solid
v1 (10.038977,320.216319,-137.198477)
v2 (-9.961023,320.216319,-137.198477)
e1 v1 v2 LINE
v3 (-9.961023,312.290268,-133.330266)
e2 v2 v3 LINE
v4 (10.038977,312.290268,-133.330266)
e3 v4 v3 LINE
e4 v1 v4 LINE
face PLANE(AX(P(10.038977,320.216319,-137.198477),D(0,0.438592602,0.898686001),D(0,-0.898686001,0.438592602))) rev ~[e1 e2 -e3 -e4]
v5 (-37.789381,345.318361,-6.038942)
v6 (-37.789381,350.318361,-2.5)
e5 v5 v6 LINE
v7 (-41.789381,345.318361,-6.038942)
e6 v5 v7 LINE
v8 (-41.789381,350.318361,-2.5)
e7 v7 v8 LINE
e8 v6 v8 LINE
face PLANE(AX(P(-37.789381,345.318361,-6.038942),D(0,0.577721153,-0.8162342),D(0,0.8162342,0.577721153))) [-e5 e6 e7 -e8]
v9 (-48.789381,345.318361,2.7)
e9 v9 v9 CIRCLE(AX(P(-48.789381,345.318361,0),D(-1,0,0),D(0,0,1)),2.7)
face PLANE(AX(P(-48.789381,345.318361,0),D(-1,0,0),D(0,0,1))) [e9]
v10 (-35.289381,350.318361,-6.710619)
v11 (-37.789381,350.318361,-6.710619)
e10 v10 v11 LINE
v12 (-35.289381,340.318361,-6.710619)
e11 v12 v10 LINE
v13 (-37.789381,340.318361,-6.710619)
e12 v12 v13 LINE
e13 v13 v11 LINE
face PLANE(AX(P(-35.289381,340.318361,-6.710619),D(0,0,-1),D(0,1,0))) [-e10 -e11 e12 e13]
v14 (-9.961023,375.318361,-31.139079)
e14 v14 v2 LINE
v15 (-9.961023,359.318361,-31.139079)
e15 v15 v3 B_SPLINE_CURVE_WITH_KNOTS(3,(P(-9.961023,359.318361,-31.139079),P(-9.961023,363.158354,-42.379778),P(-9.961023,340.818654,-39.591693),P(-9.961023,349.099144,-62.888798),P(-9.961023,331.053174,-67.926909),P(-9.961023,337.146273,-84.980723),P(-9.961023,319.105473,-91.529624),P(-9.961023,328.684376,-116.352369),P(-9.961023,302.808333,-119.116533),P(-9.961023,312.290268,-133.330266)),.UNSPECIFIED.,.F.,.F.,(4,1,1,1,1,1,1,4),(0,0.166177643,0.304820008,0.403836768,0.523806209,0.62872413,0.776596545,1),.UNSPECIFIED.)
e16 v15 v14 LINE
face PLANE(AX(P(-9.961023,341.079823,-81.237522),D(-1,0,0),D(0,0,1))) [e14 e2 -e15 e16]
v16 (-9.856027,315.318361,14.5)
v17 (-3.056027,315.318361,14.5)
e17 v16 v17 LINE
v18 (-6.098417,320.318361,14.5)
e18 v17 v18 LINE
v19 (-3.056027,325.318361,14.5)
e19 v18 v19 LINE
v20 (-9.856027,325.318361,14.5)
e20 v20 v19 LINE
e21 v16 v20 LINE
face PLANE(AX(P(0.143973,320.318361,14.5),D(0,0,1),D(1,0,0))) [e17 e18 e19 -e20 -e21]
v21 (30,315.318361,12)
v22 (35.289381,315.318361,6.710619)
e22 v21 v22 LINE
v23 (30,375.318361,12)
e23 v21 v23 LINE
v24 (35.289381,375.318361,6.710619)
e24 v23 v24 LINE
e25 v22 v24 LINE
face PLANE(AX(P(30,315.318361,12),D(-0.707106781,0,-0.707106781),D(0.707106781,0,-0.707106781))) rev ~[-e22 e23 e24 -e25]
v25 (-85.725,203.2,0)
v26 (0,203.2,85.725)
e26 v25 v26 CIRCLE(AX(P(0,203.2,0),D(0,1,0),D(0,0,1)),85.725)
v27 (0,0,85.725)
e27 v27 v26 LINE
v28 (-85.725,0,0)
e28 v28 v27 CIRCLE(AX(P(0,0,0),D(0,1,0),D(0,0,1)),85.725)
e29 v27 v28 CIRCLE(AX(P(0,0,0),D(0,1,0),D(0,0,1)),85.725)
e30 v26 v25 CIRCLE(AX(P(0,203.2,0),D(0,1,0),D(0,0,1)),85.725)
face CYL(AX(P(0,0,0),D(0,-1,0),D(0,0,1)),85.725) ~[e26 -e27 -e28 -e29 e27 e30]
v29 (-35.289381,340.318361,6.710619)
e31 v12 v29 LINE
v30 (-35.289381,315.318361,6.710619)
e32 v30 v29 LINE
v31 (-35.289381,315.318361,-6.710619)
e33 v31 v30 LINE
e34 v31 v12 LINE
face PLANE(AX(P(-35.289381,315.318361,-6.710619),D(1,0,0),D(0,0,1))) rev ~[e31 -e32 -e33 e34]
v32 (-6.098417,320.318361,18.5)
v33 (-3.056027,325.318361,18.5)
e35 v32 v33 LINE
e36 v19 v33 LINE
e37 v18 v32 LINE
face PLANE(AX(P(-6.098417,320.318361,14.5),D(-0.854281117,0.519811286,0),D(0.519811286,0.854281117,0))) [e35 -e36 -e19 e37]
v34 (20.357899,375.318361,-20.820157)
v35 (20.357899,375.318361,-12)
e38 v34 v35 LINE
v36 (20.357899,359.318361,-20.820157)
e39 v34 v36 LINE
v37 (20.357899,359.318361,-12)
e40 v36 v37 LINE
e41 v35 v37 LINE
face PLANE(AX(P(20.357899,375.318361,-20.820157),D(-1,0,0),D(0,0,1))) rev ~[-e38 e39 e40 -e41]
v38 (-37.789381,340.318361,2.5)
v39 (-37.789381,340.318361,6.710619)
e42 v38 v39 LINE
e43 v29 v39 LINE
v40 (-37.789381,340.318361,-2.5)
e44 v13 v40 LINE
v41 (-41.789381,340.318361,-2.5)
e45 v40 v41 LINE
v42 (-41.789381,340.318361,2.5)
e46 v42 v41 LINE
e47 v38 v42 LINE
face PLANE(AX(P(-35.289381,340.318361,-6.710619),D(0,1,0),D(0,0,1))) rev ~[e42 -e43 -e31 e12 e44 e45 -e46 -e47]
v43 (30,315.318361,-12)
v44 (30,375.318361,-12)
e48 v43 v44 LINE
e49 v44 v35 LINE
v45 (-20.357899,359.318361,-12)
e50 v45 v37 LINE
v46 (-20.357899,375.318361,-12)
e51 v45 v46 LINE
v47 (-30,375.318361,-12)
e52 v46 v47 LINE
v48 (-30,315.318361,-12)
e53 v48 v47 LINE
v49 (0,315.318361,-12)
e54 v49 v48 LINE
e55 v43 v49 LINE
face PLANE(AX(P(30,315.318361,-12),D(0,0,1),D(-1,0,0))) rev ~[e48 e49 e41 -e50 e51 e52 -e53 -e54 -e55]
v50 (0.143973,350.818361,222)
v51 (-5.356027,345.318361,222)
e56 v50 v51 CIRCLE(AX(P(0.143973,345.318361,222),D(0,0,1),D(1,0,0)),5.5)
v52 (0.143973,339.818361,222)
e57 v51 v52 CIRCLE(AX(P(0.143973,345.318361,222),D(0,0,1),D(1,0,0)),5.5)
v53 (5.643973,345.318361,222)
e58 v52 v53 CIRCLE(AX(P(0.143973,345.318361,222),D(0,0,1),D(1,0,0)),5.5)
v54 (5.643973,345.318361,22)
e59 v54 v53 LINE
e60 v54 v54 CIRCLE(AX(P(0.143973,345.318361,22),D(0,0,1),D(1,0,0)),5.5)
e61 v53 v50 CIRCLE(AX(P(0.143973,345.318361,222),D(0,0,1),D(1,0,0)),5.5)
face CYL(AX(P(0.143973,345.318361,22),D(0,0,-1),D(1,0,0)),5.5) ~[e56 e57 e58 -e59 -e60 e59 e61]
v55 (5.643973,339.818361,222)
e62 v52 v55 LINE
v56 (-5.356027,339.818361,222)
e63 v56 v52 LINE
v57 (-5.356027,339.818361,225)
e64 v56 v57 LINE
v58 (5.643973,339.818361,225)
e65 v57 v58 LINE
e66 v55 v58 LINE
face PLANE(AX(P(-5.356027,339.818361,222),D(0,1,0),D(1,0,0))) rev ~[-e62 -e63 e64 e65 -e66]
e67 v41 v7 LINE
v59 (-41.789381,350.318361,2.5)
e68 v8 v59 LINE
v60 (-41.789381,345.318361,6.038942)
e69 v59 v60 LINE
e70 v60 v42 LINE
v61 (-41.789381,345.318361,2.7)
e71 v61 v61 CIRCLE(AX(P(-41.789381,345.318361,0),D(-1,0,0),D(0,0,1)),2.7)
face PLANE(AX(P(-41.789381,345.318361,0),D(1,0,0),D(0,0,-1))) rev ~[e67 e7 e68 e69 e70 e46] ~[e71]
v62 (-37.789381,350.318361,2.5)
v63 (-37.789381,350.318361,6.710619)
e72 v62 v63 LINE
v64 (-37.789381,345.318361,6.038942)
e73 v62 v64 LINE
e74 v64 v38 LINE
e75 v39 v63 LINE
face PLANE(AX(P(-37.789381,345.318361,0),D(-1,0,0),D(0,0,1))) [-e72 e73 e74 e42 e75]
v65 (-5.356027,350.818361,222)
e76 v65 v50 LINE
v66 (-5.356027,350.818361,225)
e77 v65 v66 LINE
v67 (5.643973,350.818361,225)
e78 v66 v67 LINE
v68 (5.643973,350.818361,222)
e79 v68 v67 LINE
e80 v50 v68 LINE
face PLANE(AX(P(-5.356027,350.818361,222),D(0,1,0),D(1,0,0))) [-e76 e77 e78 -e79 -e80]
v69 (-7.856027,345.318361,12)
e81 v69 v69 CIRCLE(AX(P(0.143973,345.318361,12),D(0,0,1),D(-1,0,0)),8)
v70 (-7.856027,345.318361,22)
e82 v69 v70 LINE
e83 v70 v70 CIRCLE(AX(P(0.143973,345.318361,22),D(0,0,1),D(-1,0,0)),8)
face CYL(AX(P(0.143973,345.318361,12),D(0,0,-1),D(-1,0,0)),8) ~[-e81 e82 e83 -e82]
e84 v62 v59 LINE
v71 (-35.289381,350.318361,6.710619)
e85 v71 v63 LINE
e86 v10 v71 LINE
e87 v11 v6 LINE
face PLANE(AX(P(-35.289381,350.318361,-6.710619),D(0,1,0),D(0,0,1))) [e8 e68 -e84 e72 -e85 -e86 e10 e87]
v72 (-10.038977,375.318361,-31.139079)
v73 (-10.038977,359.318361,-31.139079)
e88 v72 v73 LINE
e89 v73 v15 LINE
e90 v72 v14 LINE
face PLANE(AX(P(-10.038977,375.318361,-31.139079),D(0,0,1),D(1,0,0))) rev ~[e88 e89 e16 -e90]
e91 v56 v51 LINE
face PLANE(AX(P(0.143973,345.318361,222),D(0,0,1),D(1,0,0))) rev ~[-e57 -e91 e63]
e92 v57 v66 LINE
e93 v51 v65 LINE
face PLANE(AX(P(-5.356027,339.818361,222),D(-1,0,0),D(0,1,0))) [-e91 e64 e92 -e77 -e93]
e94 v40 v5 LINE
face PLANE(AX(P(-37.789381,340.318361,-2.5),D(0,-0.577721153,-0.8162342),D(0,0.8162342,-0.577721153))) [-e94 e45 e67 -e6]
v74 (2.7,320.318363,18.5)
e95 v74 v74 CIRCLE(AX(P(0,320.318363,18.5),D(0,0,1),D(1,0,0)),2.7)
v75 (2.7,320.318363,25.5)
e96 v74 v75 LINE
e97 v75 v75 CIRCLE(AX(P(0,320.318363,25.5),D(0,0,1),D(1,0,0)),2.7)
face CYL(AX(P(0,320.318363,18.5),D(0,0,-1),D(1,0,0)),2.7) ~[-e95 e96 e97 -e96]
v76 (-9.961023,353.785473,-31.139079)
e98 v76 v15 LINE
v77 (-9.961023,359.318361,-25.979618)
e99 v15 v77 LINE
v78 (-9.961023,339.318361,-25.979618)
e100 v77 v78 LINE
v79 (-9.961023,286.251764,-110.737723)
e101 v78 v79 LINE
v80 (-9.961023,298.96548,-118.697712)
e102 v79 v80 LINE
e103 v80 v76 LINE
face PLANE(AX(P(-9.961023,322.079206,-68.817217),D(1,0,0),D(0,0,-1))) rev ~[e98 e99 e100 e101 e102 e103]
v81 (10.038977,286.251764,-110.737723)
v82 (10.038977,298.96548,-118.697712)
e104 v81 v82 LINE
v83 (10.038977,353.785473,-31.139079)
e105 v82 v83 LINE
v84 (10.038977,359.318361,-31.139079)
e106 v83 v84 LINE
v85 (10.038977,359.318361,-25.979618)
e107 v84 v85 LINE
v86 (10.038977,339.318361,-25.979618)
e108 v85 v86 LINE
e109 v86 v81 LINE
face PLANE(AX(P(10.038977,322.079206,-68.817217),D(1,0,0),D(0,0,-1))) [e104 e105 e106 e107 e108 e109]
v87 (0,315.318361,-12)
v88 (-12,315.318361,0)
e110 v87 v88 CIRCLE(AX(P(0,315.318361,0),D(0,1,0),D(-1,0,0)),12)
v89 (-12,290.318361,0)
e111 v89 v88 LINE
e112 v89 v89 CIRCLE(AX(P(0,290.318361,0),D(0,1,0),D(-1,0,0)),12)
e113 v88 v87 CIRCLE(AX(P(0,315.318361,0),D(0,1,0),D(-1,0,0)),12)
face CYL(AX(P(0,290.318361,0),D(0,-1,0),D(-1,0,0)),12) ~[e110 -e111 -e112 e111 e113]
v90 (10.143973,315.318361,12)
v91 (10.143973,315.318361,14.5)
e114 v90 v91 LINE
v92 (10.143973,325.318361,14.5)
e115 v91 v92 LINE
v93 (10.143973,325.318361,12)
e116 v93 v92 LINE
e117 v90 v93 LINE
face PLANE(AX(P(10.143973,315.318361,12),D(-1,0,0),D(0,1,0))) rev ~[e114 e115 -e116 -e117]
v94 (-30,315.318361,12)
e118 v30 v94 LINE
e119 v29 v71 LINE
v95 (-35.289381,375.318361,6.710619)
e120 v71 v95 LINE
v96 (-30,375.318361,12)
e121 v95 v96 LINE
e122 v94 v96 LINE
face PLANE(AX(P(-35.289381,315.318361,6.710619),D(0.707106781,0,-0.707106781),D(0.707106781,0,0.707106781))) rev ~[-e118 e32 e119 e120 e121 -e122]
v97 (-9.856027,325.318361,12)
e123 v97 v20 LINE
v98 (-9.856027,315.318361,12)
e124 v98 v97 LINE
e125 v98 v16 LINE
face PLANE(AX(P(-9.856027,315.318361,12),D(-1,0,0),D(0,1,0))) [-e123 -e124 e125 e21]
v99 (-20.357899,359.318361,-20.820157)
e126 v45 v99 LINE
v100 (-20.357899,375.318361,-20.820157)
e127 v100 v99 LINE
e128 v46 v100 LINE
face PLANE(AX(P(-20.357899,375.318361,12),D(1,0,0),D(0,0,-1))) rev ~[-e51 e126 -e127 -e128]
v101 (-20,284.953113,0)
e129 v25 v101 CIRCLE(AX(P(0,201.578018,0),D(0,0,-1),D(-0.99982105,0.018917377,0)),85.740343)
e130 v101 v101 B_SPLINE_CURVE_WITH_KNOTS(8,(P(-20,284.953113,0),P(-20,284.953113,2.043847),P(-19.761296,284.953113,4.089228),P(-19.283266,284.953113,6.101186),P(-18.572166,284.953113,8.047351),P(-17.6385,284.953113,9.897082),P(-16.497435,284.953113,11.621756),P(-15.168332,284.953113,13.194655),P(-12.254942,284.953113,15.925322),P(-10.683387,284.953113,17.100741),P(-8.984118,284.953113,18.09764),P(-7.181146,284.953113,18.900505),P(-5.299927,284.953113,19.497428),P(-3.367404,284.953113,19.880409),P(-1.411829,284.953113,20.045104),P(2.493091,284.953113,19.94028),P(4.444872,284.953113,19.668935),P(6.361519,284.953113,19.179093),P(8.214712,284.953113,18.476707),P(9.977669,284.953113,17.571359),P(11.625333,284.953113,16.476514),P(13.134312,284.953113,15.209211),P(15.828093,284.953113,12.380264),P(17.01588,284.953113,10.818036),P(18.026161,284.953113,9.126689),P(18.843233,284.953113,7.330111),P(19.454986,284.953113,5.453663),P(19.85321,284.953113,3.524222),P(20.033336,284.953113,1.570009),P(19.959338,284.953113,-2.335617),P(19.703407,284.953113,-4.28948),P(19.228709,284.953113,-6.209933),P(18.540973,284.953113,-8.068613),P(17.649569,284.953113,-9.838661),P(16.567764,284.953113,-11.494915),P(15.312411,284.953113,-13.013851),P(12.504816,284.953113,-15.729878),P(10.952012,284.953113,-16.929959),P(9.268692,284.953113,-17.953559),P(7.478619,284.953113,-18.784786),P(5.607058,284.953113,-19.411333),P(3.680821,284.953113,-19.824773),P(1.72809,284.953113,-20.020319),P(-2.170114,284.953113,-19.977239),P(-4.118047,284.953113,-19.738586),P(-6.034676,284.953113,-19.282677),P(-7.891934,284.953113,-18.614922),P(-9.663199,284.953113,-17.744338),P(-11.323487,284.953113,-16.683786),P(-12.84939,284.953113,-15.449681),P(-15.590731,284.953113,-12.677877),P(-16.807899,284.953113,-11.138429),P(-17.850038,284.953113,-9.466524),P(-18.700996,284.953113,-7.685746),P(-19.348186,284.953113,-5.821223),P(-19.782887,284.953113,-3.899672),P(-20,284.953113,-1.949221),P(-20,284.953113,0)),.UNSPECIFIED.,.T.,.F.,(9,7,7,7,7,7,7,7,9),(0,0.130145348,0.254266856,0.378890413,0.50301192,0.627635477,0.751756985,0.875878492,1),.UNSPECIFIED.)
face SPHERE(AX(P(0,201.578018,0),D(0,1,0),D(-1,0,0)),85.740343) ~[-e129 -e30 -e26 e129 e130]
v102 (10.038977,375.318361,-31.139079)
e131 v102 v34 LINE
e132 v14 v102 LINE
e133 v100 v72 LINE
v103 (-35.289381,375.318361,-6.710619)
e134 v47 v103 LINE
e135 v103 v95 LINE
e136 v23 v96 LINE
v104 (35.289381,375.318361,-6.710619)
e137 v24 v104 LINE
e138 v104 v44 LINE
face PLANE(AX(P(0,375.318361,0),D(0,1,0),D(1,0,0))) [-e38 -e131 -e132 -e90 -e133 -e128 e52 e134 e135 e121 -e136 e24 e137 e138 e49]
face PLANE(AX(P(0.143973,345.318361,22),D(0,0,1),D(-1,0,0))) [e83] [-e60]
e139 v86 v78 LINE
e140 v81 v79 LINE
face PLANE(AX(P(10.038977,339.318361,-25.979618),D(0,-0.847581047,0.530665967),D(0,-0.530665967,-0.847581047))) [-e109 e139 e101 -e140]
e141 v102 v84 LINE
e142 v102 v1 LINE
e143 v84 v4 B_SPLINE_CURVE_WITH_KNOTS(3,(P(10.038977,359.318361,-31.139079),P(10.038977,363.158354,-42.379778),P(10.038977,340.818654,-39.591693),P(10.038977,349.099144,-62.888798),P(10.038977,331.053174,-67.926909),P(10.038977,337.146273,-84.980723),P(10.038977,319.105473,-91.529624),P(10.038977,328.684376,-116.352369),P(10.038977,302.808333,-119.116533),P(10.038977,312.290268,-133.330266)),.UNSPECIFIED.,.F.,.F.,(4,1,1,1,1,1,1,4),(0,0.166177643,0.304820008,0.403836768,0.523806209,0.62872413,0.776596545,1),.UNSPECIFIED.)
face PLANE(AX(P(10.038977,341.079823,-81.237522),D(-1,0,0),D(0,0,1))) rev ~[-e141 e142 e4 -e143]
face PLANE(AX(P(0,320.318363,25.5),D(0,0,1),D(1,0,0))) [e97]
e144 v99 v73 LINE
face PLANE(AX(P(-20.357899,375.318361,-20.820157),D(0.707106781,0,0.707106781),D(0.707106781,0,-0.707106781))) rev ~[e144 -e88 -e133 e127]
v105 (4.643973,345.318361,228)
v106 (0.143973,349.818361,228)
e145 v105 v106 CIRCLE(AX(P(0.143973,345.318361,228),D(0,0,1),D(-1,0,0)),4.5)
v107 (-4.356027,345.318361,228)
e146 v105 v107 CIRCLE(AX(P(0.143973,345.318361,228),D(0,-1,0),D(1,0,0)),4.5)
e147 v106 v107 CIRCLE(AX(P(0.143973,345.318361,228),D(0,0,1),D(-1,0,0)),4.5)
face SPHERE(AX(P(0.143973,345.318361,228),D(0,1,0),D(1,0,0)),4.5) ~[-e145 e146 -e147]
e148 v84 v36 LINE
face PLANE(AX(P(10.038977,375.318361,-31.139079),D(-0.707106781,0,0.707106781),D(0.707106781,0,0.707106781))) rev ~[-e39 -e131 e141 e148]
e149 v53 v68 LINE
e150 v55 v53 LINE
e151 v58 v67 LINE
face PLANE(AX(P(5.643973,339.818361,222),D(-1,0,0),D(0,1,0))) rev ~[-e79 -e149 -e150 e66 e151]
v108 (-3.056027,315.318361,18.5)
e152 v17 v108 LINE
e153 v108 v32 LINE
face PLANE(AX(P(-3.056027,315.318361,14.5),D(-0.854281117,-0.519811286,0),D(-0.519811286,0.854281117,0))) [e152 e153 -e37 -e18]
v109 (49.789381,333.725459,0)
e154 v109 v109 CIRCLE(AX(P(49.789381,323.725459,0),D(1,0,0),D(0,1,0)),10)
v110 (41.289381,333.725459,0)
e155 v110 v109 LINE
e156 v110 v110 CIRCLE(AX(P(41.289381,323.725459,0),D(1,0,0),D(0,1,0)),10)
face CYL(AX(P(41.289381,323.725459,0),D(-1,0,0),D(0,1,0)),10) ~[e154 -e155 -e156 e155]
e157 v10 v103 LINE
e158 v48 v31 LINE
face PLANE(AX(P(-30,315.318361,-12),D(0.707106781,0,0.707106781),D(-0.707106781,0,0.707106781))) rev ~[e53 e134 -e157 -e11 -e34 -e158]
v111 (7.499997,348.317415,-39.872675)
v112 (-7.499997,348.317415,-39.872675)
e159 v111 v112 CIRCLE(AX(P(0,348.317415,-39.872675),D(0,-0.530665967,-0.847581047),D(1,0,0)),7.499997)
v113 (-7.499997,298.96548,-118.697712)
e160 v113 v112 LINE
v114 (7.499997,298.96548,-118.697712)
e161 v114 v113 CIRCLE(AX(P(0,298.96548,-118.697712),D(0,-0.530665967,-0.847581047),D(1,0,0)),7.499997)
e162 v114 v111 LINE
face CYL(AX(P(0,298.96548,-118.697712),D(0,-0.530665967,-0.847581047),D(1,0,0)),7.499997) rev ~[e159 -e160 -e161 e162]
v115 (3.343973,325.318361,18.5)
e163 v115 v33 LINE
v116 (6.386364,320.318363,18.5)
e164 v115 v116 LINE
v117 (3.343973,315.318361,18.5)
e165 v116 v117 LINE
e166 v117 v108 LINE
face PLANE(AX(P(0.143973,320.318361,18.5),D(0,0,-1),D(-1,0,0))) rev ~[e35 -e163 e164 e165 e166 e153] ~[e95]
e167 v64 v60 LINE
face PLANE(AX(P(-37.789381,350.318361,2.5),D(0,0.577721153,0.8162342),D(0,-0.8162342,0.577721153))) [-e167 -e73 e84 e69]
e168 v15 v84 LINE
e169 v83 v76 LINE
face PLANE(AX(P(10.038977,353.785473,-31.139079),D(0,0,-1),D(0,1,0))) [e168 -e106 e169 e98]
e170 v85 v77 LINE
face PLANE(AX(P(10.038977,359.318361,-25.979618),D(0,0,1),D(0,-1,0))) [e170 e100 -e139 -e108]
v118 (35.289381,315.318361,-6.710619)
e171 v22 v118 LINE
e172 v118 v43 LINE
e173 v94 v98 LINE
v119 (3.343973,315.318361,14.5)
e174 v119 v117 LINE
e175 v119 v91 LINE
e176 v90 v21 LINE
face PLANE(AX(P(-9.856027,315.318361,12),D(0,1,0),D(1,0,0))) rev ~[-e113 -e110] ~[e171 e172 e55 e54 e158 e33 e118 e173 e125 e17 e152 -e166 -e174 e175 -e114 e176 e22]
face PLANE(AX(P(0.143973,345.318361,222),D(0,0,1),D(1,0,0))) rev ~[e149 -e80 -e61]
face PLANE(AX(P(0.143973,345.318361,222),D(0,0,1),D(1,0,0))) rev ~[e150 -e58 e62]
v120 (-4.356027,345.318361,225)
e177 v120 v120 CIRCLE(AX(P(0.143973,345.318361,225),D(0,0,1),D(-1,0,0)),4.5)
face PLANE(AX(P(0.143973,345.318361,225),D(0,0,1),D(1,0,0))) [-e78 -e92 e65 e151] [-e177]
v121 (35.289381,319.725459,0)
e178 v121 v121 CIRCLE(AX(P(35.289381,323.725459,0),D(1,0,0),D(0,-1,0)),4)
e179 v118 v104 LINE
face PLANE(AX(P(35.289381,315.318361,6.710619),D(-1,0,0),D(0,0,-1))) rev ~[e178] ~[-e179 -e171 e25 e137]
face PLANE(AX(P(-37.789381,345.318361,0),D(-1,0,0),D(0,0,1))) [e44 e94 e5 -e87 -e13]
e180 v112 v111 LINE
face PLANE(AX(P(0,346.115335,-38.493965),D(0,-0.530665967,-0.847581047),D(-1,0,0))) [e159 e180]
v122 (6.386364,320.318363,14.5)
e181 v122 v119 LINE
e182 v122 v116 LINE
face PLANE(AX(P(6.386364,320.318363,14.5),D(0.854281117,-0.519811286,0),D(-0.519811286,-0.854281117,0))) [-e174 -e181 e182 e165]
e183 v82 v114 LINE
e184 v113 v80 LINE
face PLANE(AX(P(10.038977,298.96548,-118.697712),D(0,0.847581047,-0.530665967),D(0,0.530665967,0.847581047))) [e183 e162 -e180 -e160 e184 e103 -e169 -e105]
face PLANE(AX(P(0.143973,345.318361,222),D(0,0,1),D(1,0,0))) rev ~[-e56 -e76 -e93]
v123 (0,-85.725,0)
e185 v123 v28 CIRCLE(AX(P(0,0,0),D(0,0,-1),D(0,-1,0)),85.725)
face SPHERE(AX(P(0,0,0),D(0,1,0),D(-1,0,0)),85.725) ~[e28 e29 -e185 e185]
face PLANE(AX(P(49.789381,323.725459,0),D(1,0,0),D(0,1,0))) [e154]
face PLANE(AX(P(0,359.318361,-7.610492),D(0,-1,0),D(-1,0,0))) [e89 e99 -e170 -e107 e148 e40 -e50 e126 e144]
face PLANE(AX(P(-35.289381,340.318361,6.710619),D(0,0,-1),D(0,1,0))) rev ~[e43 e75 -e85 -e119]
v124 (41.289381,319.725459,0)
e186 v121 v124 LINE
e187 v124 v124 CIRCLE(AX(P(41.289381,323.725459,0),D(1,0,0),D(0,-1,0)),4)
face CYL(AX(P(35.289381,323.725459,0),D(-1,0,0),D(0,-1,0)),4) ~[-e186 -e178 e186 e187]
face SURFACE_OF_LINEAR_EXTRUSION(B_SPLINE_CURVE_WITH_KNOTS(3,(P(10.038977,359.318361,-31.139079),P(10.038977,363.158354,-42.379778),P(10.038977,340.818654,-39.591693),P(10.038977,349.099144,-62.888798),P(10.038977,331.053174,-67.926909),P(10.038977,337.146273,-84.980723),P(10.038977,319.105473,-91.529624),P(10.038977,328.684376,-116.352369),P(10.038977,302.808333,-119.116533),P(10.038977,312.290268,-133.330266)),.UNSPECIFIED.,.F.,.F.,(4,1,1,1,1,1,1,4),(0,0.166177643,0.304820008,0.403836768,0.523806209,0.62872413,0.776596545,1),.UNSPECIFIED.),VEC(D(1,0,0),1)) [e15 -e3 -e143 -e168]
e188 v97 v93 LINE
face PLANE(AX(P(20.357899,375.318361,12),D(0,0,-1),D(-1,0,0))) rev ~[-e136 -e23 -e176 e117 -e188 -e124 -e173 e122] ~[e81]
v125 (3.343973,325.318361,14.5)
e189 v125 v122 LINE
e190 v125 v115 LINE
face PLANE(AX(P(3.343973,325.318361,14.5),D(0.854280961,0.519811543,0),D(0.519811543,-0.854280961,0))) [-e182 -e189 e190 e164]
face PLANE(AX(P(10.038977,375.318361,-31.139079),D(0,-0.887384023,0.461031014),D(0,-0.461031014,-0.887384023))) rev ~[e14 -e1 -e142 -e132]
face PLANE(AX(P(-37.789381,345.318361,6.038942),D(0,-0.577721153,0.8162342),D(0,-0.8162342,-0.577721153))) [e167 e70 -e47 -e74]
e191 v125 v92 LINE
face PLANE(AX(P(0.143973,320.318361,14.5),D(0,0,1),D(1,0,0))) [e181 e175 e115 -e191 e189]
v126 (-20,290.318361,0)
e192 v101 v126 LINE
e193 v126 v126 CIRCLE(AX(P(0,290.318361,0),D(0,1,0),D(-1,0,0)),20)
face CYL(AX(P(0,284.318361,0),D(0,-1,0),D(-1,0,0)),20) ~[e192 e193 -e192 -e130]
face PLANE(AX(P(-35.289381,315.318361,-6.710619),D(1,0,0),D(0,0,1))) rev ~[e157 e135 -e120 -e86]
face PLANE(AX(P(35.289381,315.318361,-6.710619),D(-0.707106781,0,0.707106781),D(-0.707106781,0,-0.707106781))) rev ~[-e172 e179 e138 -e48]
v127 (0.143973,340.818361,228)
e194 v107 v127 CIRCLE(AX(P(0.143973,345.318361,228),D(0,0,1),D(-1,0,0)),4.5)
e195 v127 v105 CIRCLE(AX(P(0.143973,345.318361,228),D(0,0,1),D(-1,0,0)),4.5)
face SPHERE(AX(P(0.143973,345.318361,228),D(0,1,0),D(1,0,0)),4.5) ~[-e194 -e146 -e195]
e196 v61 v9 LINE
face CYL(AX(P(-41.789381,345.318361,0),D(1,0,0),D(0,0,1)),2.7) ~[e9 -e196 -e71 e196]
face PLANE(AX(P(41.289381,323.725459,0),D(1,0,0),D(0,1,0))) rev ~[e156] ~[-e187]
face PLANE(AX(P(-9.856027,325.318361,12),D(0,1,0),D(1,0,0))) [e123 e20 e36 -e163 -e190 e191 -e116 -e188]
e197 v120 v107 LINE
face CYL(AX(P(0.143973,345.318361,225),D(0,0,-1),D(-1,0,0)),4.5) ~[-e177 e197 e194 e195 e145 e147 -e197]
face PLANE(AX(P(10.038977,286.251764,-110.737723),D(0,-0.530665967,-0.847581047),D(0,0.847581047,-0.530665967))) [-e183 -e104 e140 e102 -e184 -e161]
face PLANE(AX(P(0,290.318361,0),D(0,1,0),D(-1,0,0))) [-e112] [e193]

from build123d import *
from build123d.topology import SkipClean

# Parameters (mm, degrees)
SKETCH1_R                = 85.725
BOSS_EXTRUDE1_DEPTH      = 203.2
BOSS_EXTRUDE2_DEPTH      = 3
BOSS_EXTRUDE2_DEPTH_BACK = 3
SKETCH31_R               = 20
SKETCH32_R               = 12
BOSS_EXTRUDE3_DEPTH      = 25
BOSS_EXTRUDE6_DEPTH      = 60
SKETCH34_R               = 4
BOSS_EXTRUDE7_DEPTH      = 6
SKETCH35_R               = 10
BOSS_EXTRUDE8_DEPTH      = 8.5
SKETCH36_W               = 20
SKETCH36_H               = 10
BOSS_EXTRUDE9_DEPTH      = 2.5
BOSS_EXTRUDE10_DEPTH     = 4
SKETCH38_R               = 2.7
BOSS_EXTRUDE11_DEPTH     = 7
SKETCH39_W               = 13.421237438
SKETCH39_H               = 10
BOSS_EXTRUDE12_DEPTH     = 2.5
BOSS_EXTRUDE13_DEPTH     = 4
SKETCH41_R               = 2.7
BOSS_EXTRUDE14_DEPTH     = 7
SKETCH42_R               = 8
BOSS_EXTRUDE15_DEPTH     = 10
SKETCH43_R               = 5.5
BOSS_EXTRUDE16_DEPTH     = 200
SKETCH44_W               = 11
SKETCH44_H               = 11
BOSS_EXTRUDE17_DEPTH     = 3
SKETCH45_R               = 4.5
BOSS_EXTRUDE18_DEPTH     = 3
REVOLVE3_ANGLE           = 180
BOSS_EXTRUDE19_DEPTH     = 16
BOSS_EXTRUDE20_DEPTH     = 20
BOSS_EXTRUDE21_DEPTH     = 20
CUT_EXTRUDE2_DEPTH       = 93


with BuildPart() as part:
    # Sketch1 → Boss-Extrude1 (new body)
    with BuildSketch(Plane(origin=(0, 0, 0), x_dir=(1, 0, 0), z_dir=(0, 1, 0))):
        with Locations(Location((0, 0, 0), (0, 0, 270))):
            Circle(SKETCH1_R)
    extrude(amount=BOSS_EXTRUDE1_DEPTH)

    # Sketch28 → Revolve1 (revolve)
    with BuildSketch(Plane.XY):
        with BuildLine():
            Line((0, 287.318360821), (0, 201.578017622))
            Line((0, 201.578017622), (-85.725, 203.2))
            ThreePointArc((-85.725, 203.2), (-60.051382691, 262.776366365), (0, 287.318360821))
        make_face()
    revolve(axis=Axis((0, 313.857447871, 0), (0, -1, 0)))

    # Sketch29 → Revolve2 (revolve)
    with BuildSketch(Plane.XY, mode=Mode.PRIVATE) as revolve2_sk:
        with BuildLine():
            Line((0, 0), (0, -85.725))
            ThreePointArc((0, -85.725), (60.616728817, -60.616728817), (85.725, 0))
            Line((85.725, 0), (0, 0))
        make_face()
    revolve(revolve2_sk.sketch.rotate(Axis((0, 313.857447871, 0), (0, -1, 0)), 180), axis=Axis((0, 313.857447871, 0), (0, -1, 0)))

    # Sketch31 → Boss-Extrude2 (add, two sides: drawn at the far end of the back side and taken through both)
    with BuildSketch(Plane(origin=(0, 287.318360821, 0), x_dir=(1, 0, 0), z_dir=(0, 1, 0)).offset(-BOSS_EXTRUDE2_DEPTH_BACK)):
        with Locations(Location((0, 0, 0), (0, 0, 180))):
            Circle(SKETCH31_R)
    extrude(amount=BOSS_EXTRUDE2_DEPTH + BOSS_EXTRUDE2_DEPTH_BACK)

    # Sketch32 → Boss-Extrude3 (add)
    with BuildSketch(Plane(origin=(0, 290.318360821, 0), x_dir=(1, 0, 0), z_dir=(0, 1, 0))):
        with Locations(Location((0, 0, 0), (0, 0, 180))):
            Circle(SKETCH32_R)
    extrude(amount=BOSS_EXTRUDE3_DEPTH)

    # Sketch33 → Boss-Extrude6 (add)
    with BuildSketch(Plane(origin=(0, 315.318360821, 0), x_dir=(1, 0, 0), z_dir=(0, 1, 0))):
        Polygon((30, 12), (-30, 12), (-35.289381281, 6.710618719), (-35.289381281, -6.710618719), (-30, -12), (30, -12), (35.289381281, -6.710618719), (35.289381281, 6.710618719), align=None)
    extrude(amount=BOSS_EXTRUDE6_DEPTH)

    # Sketch34 → Boss-Extrude7 (add)
    with BuildSketch(Plane(origin=(35.289381281, 0, 0), x_dir=(0, 0, -1), z_dir=(1, 0, 0))):
        with Locations(Location((0, 323.725459458, 0), (0, 0, 270))):
            Circle(SKETCH34_R)
    extrude(amount=BOSS_EXTRUDE7_DEPTH)

    # Sketch35 → Boss-Extrude8 (add)
    with BuildSketch(Plane(origin=(41.289381281, 0, 0), x_dir=(0, 0, -1), z_dir=(1, 0, 0))):
        with Locations(Location((0, 323.725459458, 0), (0, 0, 90))):
            Circle(SKETCH35_R)
    extrude(amount=BOSS_EXTRUDE8_DEPTH)

    # Sketch36 → Boss-Extrude9 (add)
    with BuildSketch(Plane.XY.offset(12)):
        with Locations((0.143972637, 320.318360821)):
            Rectangle(SKETCH36_W, SKETCH36_H)
    extrude(amount=BOSS_EXTRUDE9_DEPTH)

    # Sketch37 → Boss-Extrude10 (add)
    with BuildSketch(Plane.XY.offset(14.5)):
        Polygon((0.143972637, 325.318360821), (3.343972637, 325.318360821), (6.386363787, 320.318362512), (3.343972637, 315.318360821), (-3.056027363, 315.318360821), (-6.098417484, 320.318360821), (-3.056027363, 325.318360821), align=None)
    extrude(amount=BOSS_EXTRUDE10_DEPTH)

    # Sketch38 → Boss-Extrude11 (add)
    with BuildSketch(Plane.XY.offset(18.5)):
        with Locations((0, 320.318362512)):
            Circle(SKETCH38_R)
    extrude(amount=BOSS_EXTRUDE11_DEPTH)

    # Sketch39 → Boss-Extrude12 (add)
    with BuildSketch(Plane.ZY.offset(35.289381281)):
        with Locations((0, 345.318360821)):
            Rectangle(SKETCH39_W, SKETCH39_H)
    extrude(amount=BOSS_EXTRUDE12_DEPTH)

    # Sketch40 → Boss-Extrude13 (add)
    with BuildSketch(Plane.ZY.offset(37.789381281)):
        Polygon((2.5, 350.318360821), (6.03894233, 345.318360821), (2.5, 340.318360821), (-2.5, 340.318360821), (-6.03894233, 345.318360821), (-2.5, 350.318360821), align=None)
    extrude(amount=BOSS_EXTRUDE13_DEPTH)

    # Sketch41 → Boss-Extrude14 (add)
    with BuildSketch(Plane.ZY.offset(41.789381281)):
        with Locations((0, 345.318360821)):
            Circle(SKETCH41_R)
    extrude(amount=BOSS_EXTRUDE14_DEPTH)

    # Sketch42 → Boss-Extrude15 (add)
    with BuildSketch(Plane.XY.offset(12)):
        with Locations(Location((0.143972637, 345.318360821, 0), (0, 0, 180))):
            Circle(SKETCH42_R)
    extrude(amount=BOSS_EXTRUDE15_DEPTH)

    # Sketch43 → Boss-Extrude16 (add)
    with BuildSketch(Plane.XY.offset(22)):
        with Locations((0.143972637, 345.318360821)):
            Circle(SKETCH43_R)
    extrude(amount=BOSS_EXTRUDE16_DEPTH)

    # Sketch44 → Boss-Extrude17 (add)
    with BuildSketch(Plane.XY.offset(222)):
        with Locations((0.143972637, 345.318360821)):
            Rectangle(SKETCH44_W, SKETCH44_H)
    extrude(amount=BOSS_EXTRUDE17_DEPTH)

    # Sketch45 → Boss-Extrude18 (add)
    with BuildSketch(Plane.XY.offset(225)):
        with Locations(Location((0.143972637, 345.318360821, 0), (0, 0, 180))):
            Circle(SKETCH45_R)
    extrude(amount=BOSS_EXTRUDE18_DEPTH)

    # Sketch47 → Revolve3 (revolve)
    with SkipClean():  # the faces are left unmerged after this step: merging them gives an invalid solid
        with BuildSketch(Plane.XY.offset(228)):
            with BuildLine():
                ThreePointArc((4.643972637, 345.318360821), (3.325953153, 348.500341336), (0.143972637, 349.818360821))
                Line((0.143972637, 349.818360821), (0.143972637, 340.818360821))
                ThreePointArc((0.143972637, 340.818360821), (3.325953153, 342.136380306), (4.643972637, 345.318360821))
            make_face()
            with BuildLine():
                Line((0.143972637, 340.818360821), (0.143972637, 349.818360821))
                ThreePointArc((0.143972637, 349.818360821), (-4.356027363, 345.318360821), (0.143972637, 340.818360821))
            make_face()
        revolve(axis=Axis((0.143972637, 349.818360821, 228), (0, -1, 0)), revolution_arc=REVOLVE3_ANGLE)

    # Sketch48 → Boss-Extrude19 (add)
    with BuildSketch(Plane(origin=(0, 375.318360821, 0), x_dir=(1, 0, 0), z_dir=(0, 1, 0))):
        Polygon((-20.357899108, -12), (-20.357899108, 20.820157016), (-10.038977344, 31.139078781), (10.038977344, 31.139078781), (20.357899108, 20.820157016), (20.357899108, -12), align=None)
    extrude(amount=-BOSS_EXTRUDE19_DEPTH)

    # Sketch52 → Boss-Extrude20 (add)
    with BuildSketch(Plane.ZY.offset(-10.038977344)):
        with BuildLine():
            Line((-31.139078781, 375.318360821), (-137.198476882, 320.216318652))
            Line((-137.198476882, 320.216318652), (-133.330265792, 312.290268057))
            add(Edge.make_bspline(
                [(-31.139078781, 359.318360821), (-42.379778295, 363.158353756), (-39.591693022, 340.818653922), (-62.888798291, 349.099143654), (-67.926909039, 331.053173549), (-84.980722767, 337.146273437), (-91.529623803, 319.105472959), (-116.352369344, 328.68437575), (-119.116532875, 302.808333213), (-133.330265792, 312.290268057)],
                knots=[0, 0, 0, 0, 0.166177643, 0.304820008, 0.403836768, 0.523806209, 0.62872413, 0.776596545, 1, 1, 1, 1], degree=3))
            Line((-31.139078781, 359.318360821), (-31.139078781, 375.318360821))
        make_face()
    extrude(amount=BOSS_EXTRUDE20_DEPTH)

    # Sketch53 → Boss-Extrude21 (add)
    with BuildSketch(Plane.ZY.offset(-10.038977344)):
        Polygon((-25.979617899, 359.318360821), (-25.979617899, 339.318360821), (-110.737722603, 286.251764106), (-118.69771211, 298.965479812), (-31.139078781, 353.785472543), (-31.139078781, 359.318360821), align=None)
    extrude(amount=BOSS_EXTRUDE21_DEPTH)

    # Sketch55 → Cut-Extrude2 (cut)
    with BuildSketch(Plane(origin=(0, 30.802439398, 49.197735399), x_dir=(-1, 0, 0), z_dir=(1.7575320948605254e-15, -0.5306659671461025, -0.8475810470467657))):
        with BuildLine():
            Line((7.49999746, 316.386310605), (-7.49999746, 316.386310605))
            ThreePointArc((-7.49999746, 316.386310605), (0, 308.886313145), (7.49999746, 316.386310605))
        make_face()
    extrude(amount=-CUT_EXTRUDE2_DEPTH, mode=Mode.SUBTRACT)


solid = part.part
